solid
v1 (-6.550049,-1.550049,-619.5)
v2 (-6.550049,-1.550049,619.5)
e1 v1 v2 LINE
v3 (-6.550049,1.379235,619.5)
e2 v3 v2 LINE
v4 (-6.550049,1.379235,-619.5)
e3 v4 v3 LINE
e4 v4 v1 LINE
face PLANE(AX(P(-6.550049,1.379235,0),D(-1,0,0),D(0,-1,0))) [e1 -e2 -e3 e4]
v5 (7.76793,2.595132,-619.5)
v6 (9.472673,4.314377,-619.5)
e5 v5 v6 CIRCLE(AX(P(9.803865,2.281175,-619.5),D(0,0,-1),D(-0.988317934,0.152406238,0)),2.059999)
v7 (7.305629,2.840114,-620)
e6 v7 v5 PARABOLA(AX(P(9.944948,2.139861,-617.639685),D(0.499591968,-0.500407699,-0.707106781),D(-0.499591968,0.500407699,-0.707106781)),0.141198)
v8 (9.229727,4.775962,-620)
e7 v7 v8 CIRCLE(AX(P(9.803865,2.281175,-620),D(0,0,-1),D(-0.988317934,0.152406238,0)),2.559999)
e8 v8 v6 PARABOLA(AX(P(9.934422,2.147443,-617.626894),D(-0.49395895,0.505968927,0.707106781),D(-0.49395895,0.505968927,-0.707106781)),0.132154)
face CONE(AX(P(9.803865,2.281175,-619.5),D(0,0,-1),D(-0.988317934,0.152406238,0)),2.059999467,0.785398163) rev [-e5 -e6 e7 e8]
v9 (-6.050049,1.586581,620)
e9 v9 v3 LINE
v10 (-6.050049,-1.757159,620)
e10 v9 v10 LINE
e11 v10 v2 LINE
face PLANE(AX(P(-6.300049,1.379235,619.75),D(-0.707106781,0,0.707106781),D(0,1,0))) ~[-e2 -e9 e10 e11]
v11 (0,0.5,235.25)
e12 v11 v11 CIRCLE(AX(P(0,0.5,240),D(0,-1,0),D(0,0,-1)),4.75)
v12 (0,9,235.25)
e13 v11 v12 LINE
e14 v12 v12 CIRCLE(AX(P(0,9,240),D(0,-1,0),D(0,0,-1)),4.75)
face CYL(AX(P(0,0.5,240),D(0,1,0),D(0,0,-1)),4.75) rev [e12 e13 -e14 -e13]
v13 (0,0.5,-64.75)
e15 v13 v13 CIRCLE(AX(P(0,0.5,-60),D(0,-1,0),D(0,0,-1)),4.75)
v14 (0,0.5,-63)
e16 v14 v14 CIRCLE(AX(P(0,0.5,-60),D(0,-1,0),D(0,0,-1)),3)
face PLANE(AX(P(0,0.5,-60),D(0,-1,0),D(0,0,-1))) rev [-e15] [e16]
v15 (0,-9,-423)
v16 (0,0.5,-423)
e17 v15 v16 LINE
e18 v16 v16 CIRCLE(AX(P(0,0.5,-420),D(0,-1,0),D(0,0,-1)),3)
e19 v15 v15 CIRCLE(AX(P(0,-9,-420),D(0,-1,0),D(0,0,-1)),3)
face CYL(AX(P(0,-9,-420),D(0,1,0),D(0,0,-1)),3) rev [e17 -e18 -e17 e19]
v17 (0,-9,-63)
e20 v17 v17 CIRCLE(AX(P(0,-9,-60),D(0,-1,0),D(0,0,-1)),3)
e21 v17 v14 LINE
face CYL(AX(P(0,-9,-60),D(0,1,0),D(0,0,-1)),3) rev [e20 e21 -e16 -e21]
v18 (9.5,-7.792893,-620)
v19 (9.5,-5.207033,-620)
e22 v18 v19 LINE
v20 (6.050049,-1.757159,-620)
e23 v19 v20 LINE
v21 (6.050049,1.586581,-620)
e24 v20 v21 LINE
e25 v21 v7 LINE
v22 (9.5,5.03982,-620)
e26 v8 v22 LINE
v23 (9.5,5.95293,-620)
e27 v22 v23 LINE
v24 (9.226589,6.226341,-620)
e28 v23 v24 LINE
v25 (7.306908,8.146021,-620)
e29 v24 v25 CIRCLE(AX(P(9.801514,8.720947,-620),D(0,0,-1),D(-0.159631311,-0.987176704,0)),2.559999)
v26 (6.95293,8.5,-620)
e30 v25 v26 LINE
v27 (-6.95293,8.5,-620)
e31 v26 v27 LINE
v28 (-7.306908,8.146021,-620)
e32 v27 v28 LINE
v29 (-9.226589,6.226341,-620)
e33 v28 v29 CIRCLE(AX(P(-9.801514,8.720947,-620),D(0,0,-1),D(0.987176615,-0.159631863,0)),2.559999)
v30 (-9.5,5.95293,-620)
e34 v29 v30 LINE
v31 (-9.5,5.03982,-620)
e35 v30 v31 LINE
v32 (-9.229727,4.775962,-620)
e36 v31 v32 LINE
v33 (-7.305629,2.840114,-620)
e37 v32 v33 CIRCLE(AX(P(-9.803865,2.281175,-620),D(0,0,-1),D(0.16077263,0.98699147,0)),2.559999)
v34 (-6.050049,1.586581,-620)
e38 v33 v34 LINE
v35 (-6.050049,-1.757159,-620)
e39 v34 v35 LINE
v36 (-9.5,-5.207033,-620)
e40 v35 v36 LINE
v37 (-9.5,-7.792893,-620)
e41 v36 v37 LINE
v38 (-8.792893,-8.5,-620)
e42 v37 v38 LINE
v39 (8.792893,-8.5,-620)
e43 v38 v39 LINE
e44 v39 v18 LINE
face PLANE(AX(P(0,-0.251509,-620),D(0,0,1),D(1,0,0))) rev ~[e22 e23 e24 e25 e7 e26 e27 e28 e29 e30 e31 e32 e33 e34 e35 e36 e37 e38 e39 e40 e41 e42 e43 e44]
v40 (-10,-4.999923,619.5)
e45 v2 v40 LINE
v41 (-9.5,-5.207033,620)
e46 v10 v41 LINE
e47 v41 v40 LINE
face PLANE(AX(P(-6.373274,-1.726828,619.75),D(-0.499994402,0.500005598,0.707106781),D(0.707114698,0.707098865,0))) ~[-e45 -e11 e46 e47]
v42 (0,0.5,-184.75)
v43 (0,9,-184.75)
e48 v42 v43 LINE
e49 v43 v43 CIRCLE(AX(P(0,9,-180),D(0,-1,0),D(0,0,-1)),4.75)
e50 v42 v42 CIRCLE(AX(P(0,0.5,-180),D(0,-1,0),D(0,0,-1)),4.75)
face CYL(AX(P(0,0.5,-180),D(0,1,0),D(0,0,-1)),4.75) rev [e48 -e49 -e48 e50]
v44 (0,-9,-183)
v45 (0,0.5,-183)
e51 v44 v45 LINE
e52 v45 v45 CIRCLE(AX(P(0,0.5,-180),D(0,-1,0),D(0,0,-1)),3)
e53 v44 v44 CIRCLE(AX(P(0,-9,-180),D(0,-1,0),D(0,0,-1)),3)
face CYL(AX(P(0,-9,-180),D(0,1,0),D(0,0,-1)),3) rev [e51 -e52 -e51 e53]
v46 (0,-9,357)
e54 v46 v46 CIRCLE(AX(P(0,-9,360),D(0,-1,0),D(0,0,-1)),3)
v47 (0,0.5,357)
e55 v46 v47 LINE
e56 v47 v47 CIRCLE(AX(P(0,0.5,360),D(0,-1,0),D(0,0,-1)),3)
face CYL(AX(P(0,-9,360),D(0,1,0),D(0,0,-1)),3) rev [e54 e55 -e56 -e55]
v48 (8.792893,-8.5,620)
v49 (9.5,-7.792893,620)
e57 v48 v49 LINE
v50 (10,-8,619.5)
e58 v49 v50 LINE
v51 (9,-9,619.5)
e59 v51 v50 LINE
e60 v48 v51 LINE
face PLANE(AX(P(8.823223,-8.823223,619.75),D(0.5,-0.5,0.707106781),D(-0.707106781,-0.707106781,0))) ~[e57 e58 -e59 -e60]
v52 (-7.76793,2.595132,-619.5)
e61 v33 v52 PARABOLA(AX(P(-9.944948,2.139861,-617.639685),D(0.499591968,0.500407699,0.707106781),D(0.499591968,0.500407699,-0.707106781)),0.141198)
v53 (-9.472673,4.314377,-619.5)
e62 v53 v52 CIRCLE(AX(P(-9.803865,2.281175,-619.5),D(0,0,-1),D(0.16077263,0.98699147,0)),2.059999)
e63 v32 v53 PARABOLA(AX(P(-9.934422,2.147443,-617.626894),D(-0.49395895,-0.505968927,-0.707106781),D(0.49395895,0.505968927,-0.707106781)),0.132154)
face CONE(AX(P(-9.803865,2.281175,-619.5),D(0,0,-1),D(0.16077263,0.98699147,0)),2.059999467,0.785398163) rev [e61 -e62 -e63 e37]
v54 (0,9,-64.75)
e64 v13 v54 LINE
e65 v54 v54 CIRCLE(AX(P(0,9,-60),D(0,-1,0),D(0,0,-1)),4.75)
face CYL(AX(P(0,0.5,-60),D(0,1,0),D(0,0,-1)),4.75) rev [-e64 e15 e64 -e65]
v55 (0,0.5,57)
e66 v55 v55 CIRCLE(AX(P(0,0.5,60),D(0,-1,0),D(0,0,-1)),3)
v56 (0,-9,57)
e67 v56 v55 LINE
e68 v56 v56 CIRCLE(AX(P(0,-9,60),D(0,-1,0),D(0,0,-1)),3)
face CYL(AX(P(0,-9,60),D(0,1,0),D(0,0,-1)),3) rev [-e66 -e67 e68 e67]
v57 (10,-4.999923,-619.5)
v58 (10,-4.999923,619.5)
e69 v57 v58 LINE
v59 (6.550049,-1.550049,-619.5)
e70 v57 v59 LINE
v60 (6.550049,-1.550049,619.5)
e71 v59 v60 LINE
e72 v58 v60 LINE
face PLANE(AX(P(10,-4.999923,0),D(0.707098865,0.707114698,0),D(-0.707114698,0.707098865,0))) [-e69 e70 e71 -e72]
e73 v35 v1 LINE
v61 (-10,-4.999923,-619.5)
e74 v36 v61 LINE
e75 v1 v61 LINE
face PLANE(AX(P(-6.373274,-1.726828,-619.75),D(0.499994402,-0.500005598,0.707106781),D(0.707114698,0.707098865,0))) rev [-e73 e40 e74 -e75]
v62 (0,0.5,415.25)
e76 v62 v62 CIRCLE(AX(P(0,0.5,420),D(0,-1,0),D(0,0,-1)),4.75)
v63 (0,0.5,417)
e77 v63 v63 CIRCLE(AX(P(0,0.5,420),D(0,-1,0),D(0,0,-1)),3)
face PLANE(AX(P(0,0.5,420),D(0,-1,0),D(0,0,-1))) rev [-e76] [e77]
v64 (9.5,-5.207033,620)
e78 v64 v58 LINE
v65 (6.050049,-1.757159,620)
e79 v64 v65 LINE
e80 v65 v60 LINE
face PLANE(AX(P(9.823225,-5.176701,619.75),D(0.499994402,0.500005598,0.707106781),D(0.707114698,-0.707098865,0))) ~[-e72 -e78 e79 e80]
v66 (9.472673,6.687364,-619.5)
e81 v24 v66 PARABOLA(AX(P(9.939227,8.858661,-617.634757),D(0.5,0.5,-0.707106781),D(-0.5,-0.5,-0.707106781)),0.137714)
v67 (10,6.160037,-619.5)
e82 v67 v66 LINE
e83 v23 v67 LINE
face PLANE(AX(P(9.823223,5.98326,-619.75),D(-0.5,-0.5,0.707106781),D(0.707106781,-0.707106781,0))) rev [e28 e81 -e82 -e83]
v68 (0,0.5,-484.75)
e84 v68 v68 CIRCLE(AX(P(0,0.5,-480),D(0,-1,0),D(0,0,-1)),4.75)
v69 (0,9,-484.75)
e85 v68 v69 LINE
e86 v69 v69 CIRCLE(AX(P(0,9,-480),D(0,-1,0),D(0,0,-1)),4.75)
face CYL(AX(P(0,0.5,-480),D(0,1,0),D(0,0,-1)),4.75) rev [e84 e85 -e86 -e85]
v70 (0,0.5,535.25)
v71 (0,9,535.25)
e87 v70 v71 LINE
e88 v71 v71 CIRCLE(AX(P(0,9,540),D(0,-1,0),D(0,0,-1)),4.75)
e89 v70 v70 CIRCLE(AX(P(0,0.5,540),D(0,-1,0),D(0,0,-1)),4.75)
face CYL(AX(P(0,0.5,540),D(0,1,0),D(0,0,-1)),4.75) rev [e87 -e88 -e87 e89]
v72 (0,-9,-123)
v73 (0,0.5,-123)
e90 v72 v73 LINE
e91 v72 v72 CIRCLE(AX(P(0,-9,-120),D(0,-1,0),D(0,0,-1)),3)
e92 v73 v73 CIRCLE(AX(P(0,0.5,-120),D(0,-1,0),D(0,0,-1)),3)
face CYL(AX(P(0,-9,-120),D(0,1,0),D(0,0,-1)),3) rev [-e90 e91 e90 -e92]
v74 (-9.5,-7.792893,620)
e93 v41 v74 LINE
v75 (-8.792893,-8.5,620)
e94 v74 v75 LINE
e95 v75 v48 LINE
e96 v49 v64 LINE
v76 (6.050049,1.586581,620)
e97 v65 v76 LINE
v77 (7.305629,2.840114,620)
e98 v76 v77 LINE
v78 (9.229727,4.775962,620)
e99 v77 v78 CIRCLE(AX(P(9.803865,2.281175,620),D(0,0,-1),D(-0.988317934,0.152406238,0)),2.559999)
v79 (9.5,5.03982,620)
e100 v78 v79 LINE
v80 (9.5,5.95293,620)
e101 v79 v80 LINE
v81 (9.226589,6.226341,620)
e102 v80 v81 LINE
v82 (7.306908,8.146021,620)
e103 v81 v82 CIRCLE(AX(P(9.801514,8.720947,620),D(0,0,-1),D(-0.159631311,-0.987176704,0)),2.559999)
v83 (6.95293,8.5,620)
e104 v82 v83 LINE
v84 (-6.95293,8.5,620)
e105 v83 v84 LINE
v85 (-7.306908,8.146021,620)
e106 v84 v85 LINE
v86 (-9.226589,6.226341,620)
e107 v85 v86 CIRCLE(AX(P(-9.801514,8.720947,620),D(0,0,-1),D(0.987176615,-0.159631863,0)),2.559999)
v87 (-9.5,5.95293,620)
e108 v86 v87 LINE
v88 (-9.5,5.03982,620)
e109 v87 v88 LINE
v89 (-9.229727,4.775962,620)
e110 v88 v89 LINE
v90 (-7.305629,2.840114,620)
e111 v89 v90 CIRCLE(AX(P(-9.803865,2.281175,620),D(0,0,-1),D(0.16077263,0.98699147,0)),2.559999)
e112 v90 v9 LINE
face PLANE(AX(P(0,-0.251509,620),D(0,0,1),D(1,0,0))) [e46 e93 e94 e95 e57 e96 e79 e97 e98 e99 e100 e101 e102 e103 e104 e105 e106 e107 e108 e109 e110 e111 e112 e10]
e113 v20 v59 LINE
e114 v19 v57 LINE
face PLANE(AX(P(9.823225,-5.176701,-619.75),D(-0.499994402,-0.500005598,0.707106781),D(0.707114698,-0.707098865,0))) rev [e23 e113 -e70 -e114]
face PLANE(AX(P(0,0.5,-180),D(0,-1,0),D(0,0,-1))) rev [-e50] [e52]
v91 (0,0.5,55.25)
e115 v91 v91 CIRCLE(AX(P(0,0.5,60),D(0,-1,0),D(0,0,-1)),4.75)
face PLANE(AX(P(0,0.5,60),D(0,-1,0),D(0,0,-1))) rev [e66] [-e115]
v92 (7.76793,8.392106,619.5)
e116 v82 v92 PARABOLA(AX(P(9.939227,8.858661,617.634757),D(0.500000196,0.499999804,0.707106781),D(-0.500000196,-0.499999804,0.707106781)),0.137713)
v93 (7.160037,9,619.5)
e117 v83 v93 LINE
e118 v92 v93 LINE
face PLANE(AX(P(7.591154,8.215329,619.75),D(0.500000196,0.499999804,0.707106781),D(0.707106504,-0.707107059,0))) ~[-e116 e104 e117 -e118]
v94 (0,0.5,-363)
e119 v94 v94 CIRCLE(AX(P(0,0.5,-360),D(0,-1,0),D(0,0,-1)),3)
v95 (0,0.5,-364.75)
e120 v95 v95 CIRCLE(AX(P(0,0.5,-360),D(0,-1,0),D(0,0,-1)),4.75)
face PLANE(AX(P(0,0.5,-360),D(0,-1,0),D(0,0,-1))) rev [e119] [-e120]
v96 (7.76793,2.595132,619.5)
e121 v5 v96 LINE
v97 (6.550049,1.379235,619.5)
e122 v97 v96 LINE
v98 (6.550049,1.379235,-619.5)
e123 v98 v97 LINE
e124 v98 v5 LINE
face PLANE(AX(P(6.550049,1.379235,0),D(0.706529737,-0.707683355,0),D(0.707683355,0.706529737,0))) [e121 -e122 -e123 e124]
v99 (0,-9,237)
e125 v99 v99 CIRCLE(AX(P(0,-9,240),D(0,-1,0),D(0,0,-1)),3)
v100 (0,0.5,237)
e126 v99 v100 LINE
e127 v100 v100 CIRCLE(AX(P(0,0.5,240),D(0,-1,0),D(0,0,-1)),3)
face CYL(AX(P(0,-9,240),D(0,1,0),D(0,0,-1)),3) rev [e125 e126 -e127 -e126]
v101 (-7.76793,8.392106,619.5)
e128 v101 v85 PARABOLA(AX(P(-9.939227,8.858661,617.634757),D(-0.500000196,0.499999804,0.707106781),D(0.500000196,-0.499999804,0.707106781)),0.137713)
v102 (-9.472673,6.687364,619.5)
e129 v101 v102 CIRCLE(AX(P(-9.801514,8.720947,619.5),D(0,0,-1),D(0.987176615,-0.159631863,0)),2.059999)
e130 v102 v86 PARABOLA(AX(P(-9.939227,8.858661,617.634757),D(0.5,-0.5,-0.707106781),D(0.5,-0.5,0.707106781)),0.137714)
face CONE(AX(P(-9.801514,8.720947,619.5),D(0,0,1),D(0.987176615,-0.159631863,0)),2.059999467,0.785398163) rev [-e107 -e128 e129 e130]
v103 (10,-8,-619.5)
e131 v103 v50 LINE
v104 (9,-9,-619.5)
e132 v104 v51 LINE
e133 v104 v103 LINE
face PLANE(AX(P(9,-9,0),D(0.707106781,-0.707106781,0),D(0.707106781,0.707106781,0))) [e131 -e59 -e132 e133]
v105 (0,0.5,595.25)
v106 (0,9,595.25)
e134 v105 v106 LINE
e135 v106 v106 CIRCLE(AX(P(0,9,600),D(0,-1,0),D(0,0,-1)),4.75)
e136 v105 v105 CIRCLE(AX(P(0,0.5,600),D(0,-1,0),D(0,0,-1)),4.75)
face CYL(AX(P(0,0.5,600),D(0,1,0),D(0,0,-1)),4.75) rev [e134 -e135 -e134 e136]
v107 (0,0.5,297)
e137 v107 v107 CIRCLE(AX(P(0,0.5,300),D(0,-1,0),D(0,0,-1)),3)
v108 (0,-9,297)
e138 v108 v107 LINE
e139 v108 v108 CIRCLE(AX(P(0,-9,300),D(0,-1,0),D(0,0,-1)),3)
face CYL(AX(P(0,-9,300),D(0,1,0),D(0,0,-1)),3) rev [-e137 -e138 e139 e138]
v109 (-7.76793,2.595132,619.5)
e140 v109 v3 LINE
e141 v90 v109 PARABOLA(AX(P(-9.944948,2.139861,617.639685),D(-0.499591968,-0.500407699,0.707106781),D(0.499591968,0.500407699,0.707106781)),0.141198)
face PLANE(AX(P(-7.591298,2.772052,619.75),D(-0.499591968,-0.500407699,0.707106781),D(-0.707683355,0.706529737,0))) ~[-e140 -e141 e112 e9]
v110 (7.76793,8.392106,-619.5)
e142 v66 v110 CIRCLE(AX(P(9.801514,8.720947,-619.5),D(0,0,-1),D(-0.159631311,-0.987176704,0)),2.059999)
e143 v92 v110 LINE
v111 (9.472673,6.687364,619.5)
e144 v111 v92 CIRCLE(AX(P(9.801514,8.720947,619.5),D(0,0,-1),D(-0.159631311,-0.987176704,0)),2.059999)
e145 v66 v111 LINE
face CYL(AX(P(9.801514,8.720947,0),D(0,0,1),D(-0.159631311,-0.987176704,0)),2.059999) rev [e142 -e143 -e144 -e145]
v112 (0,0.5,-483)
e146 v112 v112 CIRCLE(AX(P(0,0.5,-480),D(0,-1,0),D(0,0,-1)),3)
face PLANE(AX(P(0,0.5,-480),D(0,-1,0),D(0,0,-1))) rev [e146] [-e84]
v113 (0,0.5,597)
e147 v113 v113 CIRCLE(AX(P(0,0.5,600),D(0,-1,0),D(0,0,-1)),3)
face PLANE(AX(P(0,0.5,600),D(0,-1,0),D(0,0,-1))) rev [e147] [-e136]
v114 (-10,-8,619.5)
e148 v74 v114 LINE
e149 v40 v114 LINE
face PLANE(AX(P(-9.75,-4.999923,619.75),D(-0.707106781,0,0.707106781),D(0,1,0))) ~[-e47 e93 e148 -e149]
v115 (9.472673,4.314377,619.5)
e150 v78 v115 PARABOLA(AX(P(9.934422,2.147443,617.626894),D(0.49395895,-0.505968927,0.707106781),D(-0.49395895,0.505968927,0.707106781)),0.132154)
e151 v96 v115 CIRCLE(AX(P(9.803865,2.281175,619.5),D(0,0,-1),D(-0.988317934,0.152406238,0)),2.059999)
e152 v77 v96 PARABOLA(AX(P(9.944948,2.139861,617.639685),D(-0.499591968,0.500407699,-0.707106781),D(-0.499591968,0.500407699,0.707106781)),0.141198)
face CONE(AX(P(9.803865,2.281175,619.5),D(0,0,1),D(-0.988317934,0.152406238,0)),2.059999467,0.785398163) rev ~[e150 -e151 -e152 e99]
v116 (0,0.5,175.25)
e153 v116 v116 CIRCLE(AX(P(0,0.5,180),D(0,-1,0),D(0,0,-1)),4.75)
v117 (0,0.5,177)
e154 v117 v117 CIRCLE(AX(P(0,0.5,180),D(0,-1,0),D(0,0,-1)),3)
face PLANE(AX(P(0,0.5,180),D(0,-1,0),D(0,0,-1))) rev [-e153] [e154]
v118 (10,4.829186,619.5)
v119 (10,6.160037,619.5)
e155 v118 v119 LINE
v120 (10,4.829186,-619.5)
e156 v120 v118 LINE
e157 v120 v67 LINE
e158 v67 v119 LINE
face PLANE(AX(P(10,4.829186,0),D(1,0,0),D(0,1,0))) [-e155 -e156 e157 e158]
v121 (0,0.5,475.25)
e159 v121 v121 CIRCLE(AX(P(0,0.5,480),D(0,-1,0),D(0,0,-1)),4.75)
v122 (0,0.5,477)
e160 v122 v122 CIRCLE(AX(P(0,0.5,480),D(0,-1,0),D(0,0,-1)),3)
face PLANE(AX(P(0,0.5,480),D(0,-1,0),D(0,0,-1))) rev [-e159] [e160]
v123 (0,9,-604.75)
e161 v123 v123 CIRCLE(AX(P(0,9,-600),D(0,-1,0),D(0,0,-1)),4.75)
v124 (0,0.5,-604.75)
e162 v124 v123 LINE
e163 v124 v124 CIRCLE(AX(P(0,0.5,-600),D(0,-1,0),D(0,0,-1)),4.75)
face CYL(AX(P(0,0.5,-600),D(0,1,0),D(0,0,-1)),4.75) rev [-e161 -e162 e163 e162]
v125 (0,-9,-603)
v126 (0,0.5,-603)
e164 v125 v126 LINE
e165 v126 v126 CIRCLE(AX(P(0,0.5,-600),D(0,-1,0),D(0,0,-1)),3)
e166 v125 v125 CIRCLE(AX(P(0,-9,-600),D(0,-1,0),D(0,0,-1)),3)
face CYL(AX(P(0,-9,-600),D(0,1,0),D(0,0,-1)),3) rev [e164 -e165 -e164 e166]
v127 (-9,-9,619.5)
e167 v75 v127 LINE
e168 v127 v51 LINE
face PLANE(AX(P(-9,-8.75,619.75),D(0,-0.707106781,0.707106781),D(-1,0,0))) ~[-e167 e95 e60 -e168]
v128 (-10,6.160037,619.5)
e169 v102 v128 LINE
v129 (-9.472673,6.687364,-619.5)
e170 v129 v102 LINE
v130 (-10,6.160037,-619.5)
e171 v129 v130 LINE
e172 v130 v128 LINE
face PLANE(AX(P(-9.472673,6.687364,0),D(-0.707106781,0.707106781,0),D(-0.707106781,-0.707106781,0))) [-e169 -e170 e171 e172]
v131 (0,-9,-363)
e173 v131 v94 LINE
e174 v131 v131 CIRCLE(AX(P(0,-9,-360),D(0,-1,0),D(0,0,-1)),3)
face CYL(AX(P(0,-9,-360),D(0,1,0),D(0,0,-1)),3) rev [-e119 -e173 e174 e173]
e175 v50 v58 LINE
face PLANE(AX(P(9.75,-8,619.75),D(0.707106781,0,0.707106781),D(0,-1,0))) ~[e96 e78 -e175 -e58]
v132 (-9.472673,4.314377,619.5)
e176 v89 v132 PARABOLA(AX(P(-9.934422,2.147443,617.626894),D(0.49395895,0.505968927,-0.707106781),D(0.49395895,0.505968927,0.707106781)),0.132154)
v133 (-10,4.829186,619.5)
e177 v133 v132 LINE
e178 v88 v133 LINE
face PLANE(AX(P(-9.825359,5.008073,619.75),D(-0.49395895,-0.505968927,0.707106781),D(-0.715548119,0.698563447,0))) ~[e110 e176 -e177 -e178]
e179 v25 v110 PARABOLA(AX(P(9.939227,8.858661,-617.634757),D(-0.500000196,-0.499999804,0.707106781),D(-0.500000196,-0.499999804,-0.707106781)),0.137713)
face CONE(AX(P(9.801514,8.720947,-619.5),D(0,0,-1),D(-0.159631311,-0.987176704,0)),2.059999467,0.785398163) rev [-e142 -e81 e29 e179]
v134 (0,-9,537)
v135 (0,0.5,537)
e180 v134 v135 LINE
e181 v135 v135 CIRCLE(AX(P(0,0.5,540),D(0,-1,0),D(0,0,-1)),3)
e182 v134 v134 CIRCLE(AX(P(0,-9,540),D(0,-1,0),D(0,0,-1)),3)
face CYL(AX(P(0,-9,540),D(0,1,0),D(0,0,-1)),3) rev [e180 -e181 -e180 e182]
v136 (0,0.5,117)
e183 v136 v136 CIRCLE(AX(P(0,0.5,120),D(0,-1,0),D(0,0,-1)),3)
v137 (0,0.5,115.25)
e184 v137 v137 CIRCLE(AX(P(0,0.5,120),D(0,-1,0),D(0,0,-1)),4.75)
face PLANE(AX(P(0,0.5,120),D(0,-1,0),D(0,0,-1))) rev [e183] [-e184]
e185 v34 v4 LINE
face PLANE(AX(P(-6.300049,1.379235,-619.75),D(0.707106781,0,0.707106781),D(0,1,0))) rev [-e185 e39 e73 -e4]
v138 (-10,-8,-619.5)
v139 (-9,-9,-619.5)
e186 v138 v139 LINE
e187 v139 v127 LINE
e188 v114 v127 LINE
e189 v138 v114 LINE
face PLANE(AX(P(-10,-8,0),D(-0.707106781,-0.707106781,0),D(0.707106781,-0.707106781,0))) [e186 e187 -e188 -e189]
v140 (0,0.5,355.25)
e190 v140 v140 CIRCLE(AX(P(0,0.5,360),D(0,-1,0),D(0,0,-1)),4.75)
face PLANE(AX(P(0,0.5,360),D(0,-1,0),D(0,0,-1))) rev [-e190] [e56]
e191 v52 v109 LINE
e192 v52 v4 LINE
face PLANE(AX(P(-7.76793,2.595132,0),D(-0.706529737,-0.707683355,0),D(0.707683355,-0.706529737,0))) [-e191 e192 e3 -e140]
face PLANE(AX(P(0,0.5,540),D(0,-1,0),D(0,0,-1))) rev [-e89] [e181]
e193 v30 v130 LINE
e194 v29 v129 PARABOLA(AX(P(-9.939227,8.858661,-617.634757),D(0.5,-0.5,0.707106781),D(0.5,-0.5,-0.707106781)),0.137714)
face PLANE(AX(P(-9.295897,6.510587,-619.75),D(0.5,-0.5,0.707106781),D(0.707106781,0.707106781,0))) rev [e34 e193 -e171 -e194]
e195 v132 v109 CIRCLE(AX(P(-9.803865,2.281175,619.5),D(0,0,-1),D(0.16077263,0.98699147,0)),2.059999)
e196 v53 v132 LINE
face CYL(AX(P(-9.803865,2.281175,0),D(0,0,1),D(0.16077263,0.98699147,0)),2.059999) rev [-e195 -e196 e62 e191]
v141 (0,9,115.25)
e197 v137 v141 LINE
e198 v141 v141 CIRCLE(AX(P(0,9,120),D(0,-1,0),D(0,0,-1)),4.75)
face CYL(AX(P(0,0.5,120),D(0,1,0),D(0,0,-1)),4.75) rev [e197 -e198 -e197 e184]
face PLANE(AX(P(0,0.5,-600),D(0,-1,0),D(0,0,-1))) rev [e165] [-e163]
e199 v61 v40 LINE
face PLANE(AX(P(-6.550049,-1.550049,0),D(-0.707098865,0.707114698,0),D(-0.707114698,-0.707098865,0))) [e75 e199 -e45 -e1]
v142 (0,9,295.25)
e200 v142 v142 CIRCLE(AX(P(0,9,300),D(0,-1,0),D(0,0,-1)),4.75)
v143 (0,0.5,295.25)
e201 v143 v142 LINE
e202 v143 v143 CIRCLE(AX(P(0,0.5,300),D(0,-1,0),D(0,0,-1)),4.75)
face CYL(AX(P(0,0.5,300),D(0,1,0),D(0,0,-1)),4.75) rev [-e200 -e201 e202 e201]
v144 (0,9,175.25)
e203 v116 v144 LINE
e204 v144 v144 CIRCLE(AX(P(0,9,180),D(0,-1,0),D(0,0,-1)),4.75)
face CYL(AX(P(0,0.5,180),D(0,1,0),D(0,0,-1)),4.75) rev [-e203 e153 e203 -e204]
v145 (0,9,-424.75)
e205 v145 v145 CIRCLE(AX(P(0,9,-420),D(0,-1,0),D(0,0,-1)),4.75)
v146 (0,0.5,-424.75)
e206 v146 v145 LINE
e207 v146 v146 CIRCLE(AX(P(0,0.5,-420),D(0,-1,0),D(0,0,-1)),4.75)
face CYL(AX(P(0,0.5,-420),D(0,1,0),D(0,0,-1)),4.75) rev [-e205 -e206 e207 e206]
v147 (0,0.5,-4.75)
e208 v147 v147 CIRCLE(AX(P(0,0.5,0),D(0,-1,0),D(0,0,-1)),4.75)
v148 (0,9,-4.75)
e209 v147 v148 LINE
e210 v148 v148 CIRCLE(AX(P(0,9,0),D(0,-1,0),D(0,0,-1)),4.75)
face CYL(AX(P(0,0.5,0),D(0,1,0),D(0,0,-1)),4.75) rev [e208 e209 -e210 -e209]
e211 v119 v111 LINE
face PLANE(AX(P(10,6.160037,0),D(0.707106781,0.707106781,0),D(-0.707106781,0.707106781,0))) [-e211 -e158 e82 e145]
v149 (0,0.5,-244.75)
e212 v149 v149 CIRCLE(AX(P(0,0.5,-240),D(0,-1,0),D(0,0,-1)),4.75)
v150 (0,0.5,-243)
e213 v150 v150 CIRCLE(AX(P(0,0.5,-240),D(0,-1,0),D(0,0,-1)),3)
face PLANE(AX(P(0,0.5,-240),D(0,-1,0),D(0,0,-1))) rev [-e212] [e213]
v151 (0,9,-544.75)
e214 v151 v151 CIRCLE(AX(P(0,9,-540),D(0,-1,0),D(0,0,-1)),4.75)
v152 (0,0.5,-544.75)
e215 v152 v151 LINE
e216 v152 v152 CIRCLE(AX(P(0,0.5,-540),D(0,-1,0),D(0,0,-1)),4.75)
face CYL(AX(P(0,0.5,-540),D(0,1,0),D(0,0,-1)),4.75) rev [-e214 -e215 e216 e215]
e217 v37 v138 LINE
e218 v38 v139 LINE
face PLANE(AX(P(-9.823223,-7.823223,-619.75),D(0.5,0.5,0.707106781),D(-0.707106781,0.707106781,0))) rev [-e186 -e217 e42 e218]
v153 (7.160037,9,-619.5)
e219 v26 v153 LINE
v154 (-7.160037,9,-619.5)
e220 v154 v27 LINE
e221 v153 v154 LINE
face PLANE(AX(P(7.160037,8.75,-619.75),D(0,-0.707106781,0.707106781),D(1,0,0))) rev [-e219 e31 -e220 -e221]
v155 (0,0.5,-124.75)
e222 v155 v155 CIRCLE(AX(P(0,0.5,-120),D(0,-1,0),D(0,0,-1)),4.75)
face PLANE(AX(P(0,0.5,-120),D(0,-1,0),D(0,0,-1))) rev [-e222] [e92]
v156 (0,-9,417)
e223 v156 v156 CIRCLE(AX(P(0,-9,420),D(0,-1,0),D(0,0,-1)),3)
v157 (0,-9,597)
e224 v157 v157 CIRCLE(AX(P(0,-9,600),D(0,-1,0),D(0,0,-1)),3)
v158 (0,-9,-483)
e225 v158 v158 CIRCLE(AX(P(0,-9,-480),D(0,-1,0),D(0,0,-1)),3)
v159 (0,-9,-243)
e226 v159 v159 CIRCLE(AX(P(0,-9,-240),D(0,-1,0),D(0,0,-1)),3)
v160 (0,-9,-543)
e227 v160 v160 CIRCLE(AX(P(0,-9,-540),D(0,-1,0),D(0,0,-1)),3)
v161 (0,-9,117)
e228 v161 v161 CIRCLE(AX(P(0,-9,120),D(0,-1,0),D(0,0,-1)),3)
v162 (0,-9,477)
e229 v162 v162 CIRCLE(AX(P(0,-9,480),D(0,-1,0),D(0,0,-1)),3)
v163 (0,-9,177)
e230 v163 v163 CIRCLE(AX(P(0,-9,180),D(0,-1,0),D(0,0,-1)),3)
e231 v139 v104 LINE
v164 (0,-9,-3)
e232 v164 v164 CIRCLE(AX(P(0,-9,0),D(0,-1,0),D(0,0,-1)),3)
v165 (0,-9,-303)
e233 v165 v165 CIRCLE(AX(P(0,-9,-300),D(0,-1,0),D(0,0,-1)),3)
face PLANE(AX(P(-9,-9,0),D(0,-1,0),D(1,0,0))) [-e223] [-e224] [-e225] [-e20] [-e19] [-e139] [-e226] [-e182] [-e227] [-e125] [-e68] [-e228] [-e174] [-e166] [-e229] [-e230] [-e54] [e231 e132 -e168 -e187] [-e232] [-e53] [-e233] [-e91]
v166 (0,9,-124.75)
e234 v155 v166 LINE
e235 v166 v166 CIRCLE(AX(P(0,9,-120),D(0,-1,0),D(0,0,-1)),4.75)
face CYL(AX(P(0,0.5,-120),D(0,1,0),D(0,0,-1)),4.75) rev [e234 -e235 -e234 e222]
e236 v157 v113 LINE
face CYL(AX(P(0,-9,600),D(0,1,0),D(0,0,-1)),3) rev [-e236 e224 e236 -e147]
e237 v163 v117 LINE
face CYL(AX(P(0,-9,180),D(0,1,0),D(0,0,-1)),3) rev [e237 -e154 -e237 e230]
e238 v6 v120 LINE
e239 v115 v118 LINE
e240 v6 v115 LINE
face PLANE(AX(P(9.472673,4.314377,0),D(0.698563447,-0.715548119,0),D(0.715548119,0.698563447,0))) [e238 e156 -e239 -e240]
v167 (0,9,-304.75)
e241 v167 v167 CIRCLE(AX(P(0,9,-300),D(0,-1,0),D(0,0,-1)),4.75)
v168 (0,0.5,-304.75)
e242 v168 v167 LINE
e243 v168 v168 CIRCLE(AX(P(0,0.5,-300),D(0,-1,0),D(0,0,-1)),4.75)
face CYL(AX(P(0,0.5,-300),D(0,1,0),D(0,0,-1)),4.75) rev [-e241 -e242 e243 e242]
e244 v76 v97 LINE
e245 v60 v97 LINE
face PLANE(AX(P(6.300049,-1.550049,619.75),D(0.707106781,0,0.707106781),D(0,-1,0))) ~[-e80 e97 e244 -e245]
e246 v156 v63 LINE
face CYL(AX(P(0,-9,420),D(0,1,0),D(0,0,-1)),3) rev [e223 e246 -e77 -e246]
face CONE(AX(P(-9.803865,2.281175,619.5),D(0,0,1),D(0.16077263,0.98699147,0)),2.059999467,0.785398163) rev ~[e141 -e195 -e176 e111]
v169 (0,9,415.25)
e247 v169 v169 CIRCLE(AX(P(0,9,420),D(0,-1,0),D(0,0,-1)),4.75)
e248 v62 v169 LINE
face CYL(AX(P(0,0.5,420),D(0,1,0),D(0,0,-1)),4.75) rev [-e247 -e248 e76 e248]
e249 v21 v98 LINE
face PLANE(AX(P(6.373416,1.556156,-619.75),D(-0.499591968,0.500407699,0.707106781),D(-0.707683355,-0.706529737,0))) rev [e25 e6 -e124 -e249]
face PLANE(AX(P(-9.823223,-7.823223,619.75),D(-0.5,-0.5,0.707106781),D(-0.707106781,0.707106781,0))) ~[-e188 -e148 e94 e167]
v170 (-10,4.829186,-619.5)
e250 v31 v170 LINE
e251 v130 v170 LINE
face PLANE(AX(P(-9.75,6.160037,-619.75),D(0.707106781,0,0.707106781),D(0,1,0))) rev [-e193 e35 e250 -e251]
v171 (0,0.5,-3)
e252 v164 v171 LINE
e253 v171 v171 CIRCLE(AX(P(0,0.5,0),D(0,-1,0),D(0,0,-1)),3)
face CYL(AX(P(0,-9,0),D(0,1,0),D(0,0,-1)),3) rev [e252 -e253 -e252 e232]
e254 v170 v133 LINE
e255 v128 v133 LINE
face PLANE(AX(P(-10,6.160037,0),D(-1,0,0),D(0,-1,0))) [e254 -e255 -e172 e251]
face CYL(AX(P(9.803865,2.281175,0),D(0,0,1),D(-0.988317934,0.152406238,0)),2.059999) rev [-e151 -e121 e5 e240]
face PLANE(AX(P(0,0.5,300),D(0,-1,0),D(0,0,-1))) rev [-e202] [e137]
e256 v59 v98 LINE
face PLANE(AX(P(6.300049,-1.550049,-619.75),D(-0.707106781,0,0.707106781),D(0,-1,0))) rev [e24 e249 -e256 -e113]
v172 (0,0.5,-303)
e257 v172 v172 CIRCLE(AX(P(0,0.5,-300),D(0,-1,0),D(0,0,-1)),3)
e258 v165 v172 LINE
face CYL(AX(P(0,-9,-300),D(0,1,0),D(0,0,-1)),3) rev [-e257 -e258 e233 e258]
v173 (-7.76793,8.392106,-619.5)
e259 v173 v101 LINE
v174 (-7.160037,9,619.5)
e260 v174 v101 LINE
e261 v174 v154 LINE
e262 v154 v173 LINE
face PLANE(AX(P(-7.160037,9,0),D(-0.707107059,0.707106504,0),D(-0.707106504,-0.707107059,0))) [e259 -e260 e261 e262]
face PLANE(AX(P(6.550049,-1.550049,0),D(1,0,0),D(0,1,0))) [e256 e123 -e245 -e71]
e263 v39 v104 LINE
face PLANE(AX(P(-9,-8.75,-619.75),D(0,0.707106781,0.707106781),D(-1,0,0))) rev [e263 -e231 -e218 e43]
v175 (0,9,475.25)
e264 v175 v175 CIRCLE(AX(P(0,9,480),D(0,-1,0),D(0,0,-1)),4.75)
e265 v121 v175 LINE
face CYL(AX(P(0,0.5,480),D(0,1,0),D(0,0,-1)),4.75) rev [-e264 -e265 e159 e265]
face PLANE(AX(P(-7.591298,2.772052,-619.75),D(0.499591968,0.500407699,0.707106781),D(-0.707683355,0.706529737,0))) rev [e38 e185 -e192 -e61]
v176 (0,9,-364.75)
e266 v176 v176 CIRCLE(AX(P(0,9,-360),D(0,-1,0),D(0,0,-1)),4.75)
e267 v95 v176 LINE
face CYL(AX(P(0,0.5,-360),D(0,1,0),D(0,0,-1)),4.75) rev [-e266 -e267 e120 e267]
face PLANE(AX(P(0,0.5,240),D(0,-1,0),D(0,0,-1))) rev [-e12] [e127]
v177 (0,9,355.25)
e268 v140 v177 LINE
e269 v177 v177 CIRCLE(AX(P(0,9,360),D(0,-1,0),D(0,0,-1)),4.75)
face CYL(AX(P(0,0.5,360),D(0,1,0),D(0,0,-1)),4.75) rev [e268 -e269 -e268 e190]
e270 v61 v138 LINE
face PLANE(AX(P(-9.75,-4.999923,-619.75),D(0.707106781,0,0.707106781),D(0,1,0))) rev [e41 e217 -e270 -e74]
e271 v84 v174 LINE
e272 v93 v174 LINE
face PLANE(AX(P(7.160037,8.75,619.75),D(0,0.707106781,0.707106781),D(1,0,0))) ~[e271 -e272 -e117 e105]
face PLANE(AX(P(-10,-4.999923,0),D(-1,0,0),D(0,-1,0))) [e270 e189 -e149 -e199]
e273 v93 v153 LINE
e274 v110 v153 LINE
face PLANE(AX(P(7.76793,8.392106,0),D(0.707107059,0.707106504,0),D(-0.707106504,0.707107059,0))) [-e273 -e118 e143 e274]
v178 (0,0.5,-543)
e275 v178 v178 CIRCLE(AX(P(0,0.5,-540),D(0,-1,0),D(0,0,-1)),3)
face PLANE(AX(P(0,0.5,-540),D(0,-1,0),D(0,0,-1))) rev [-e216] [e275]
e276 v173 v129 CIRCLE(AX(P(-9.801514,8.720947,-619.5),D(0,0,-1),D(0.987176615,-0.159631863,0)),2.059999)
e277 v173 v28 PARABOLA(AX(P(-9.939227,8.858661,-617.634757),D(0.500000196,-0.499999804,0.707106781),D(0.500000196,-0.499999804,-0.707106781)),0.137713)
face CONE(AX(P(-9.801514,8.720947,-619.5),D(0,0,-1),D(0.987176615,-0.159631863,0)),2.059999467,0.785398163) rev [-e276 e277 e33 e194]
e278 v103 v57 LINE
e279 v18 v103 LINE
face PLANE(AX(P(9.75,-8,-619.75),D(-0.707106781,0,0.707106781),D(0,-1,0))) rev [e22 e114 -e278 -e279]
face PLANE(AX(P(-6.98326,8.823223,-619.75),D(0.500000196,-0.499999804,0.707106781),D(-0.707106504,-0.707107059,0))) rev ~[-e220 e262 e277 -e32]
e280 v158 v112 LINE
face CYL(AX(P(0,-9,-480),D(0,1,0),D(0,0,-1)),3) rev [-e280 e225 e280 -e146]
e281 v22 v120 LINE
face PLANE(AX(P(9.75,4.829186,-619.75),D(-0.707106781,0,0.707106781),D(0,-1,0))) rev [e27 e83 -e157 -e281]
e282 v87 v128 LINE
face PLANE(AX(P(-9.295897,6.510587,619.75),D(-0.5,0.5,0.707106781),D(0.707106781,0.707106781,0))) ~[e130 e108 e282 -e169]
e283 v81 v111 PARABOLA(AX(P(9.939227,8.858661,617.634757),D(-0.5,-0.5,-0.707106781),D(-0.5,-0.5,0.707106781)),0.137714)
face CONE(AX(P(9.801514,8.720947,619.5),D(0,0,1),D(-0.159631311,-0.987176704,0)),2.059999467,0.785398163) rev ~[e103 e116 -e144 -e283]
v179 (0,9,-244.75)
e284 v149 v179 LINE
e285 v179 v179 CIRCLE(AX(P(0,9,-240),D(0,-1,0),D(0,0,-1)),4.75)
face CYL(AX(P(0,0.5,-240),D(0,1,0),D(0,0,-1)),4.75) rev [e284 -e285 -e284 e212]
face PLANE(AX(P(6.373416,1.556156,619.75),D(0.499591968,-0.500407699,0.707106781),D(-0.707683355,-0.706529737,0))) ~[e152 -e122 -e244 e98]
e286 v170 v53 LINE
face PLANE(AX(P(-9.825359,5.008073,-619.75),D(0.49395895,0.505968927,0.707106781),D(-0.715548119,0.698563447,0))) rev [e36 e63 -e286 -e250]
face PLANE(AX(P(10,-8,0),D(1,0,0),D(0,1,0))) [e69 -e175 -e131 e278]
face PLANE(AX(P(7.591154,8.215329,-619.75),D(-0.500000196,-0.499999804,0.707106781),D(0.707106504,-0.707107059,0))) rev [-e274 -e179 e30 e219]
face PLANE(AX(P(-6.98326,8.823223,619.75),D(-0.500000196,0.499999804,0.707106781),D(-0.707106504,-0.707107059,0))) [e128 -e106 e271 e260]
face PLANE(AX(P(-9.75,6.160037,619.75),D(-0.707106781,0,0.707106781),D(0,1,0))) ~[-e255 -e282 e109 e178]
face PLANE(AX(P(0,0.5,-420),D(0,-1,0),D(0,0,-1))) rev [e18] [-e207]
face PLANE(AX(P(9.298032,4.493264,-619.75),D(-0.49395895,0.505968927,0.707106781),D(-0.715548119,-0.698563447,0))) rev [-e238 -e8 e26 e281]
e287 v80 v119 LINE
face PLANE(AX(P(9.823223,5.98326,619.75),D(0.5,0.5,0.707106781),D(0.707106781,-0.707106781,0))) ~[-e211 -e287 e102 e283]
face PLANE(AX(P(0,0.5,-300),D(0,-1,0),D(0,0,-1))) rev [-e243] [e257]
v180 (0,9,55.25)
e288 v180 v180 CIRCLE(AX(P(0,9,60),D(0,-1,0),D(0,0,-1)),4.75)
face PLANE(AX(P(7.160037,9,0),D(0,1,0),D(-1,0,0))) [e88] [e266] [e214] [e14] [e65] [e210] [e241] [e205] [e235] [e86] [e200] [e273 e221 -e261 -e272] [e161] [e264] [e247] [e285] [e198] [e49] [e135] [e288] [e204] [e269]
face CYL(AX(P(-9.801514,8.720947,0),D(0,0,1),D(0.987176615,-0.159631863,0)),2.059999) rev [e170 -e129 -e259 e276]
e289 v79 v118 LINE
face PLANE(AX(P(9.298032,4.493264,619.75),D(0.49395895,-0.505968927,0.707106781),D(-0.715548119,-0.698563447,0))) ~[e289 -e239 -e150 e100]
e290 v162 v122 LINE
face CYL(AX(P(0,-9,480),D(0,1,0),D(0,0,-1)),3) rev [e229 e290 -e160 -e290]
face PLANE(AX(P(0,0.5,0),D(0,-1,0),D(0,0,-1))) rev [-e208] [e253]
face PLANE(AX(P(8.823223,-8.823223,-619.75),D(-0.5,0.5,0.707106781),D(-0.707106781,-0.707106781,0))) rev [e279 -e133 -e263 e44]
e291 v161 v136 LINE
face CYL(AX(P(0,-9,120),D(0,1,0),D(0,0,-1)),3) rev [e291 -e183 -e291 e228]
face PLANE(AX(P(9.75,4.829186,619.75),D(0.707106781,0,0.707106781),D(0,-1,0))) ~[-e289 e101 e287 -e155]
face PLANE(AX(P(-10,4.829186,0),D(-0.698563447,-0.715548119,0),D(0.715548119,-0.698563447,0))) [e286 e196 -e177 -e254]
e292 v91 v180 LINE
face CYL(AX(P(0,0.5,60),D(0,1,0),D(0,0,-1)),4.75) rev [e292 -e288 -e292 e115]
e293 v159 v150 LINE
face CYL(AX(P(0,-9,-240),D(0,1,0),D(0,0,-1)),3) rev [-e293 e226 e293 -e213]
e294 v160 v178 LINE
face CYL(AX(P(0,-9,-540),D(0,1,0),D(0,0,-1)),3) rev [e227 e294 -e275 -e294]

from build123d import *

# Parameters (mm, degrees)
BOSS_EXTRUDE1_DEPTH      = 620
BOSS_EXTRUDE1_DEPTH_BACK = 620
LPATTERN2_COUNT          = 21
LPATTERN2_PITCH          = 60
CHAMFER1_SIZE            = 0.5


with BuildPart() as part:
    # Sketch3 → Boss-Extrude1 (new body, two sides)
    with BuildSketch(Plane.XY) as boss_extrude1_sk:
        with BuildLine():
            Line((3, 9), (-3, 9))
            Line((-3, 9), (-7.160036564, 9))
            Line((-7.160036564, 9), (-7.767930373, 8.392105714))
            ThreePointArc((-7.767930373, 8.392105714), (-8.344874488, 7.264307267), (-9.472673258, 6.687363783))
            Line((-9.472673258, 6.687363783), (-10, 6.160037041))
            Line((-10, 6.160037041), (-10, 4.82918644))
            Line((-10, 4.82918644), (-9.472673258, 4.314376637))
            ThreePointArc((-9.472673258, 4.314376637), (-8.341068744, 3.731631743), (-7.767930373, 2.595131504))
            Line((-7.767930373, 2.595131504), (-6.550048828, 1.379235268))
            Line((-6.550048828, 1.379235268), (-6.550048828, -1.550048828))
            Line((-6.550048828, -1.550048828), (-10, -4.999922752))
            Line((-10, -4.999922752), (-10, -8))
            Line((-10, -8), (-9, -9))
            Line((-9, -9), (0, -9))
            Line((0, -9), (9, -9))
            Line((9, -9), (10, -8))
            Line((10, -8), (10, -4.999922752))
            Line((10, -4.999922752), (6.550048828, -1.550048828))
            Line((6.550048828, -1.550048828), (6.550048828, 1.379235268))
            Line((6.550048828, 1.379235268), (7.767930373, 2.595131504))
            ThreePointArc((7.767930373, 2.595131504), (8.341068744, 3.731631743), (9.472673258, 4.314376637))
            Line((9.472673258, 4.314376637), (10, 4.82918644))
            Line((10, 4.82918644), (10, 6.160037041))
            Line((10, 6.160037041), (9.472673258, 6.687363783))
            ThreePointArc((9.472673258, 6.687363783), (8.344874488, 7.264307267), (7.767930373, 8.392105714))
            Line((7.767930373, 8.392105714), (7.160036564, 9))
            Line((7.160036564, 9), (3, 9))
        make_face()
    extrude(amount=BOSS_EXTRUDE1_DEPTH)
    extrude(boss_extrude1_sk.sketch, amount=-BOSS_EXTRUDE1_DEPTH_BACK)

    # Sketch4 → Cut-Revolve1 (revolve, cut)
    with BuildSketch(Plane(origin=(0, 0, 0), x_dir=(0, 0, -1), z_dir=(1, 0, 0))):
        Polygon((-595.25, 9), (-600, 9), (-600, -9), (-597, -9), (-597, 0.5), (-595.25, 0.5), align=None)
    cut_revolve1 = revolve(axis=Axis((0, 9, 600), (0, -1, 0)), mode=Mode.SUBTRACT)

    # LPattern2: Cut-Revolve1 ×21
    with Locations(*[(0, 0, -i * LPATTERN2_PITCH) for i in range(1, LPATTERN2_COUNT)]):
        add(cut_revolve1, mode=Mode.SUBTRACT)

    # Chamfer1
    chamfer1_edges = [part.edges().sort_by_distance(p)[0] for p in [
        (-6.550048828, -0.08540678, 620),
        (-8.275024414, -3.27498579, 620),
        (-10, -6.499961376, 620),
        (-9.5, -8.5, 620),
        (0, -9, 620),
        (9.5, -8.5, 620),
        (10, -6.499961376, 620),
        (8.275024414, -3.27498579, 620),
        (6.550048828, -0.08540678, 620),
        (-8.341068744, 3.731631743, 620),
        (7.158989601, 1.987183386, 620),
        (8.341068744, 3.731631743, 620),
        (9.736336629, 4.571781538, 620),
        (-9.736336629, 4.571781538, -620),
        (-10, 5.49461174, -620),
        (10, 5.49461174, 620),
        (-9.736336629, 6.423700412, -620),
        (-7.463983469, 8.696052857, -620),
        (0, 9, -620),
        (7.463983469, 8.696052857, -620),
        (9.736336629, 6.423700412, -620),
        (10, 5.49461174, -620),
        (9.736336629, 6.423700412, 620),
        (9.736336629, 4.571781538, -620),
        (7.158989601, 1.987183386, -620),
        (6.550048828, -0.08540678, -620),
        (8.275024414, -3.27498579, -620),
        (10, -6.499961376, -620),
        (9.5, -8.5, -620),
        (0, -9, -620),
        (8.344874488, 7.264307267, 620),
        (-9.5, -8.5, -620),
        (-10, -6.499961376, -620),
        (-8.275024414, -3.27498579, -620),
        (-6.550048828, -0.08540678, -620),
        (-7.158989601, 1.987183386, -620),
        (-8.341068744, 3.731631743, -620),
        (-8.344874488, 7.264307267, -620),
        (8.344874488, 7.264307267, -620),
        (8.341068744, 3.731631743, -620),
        (7.463983469, 8.696052857, 620),
        (0, 9, 620),
        (-7.463983469, 8.696052857, 620),
        (-8.344874488, 7.264307267, 620),
        (-7.158989601, 1.987183386, 620),
        (-9.736336629, 6.423700412, 620),
        (-10, 5.49461174, 620),
        (-9.736336629, 4.571781538, 620),
    ]]
    chamfer(chamfer1_edges, length=CHAMFER1_SIZE)


solid = part.part
